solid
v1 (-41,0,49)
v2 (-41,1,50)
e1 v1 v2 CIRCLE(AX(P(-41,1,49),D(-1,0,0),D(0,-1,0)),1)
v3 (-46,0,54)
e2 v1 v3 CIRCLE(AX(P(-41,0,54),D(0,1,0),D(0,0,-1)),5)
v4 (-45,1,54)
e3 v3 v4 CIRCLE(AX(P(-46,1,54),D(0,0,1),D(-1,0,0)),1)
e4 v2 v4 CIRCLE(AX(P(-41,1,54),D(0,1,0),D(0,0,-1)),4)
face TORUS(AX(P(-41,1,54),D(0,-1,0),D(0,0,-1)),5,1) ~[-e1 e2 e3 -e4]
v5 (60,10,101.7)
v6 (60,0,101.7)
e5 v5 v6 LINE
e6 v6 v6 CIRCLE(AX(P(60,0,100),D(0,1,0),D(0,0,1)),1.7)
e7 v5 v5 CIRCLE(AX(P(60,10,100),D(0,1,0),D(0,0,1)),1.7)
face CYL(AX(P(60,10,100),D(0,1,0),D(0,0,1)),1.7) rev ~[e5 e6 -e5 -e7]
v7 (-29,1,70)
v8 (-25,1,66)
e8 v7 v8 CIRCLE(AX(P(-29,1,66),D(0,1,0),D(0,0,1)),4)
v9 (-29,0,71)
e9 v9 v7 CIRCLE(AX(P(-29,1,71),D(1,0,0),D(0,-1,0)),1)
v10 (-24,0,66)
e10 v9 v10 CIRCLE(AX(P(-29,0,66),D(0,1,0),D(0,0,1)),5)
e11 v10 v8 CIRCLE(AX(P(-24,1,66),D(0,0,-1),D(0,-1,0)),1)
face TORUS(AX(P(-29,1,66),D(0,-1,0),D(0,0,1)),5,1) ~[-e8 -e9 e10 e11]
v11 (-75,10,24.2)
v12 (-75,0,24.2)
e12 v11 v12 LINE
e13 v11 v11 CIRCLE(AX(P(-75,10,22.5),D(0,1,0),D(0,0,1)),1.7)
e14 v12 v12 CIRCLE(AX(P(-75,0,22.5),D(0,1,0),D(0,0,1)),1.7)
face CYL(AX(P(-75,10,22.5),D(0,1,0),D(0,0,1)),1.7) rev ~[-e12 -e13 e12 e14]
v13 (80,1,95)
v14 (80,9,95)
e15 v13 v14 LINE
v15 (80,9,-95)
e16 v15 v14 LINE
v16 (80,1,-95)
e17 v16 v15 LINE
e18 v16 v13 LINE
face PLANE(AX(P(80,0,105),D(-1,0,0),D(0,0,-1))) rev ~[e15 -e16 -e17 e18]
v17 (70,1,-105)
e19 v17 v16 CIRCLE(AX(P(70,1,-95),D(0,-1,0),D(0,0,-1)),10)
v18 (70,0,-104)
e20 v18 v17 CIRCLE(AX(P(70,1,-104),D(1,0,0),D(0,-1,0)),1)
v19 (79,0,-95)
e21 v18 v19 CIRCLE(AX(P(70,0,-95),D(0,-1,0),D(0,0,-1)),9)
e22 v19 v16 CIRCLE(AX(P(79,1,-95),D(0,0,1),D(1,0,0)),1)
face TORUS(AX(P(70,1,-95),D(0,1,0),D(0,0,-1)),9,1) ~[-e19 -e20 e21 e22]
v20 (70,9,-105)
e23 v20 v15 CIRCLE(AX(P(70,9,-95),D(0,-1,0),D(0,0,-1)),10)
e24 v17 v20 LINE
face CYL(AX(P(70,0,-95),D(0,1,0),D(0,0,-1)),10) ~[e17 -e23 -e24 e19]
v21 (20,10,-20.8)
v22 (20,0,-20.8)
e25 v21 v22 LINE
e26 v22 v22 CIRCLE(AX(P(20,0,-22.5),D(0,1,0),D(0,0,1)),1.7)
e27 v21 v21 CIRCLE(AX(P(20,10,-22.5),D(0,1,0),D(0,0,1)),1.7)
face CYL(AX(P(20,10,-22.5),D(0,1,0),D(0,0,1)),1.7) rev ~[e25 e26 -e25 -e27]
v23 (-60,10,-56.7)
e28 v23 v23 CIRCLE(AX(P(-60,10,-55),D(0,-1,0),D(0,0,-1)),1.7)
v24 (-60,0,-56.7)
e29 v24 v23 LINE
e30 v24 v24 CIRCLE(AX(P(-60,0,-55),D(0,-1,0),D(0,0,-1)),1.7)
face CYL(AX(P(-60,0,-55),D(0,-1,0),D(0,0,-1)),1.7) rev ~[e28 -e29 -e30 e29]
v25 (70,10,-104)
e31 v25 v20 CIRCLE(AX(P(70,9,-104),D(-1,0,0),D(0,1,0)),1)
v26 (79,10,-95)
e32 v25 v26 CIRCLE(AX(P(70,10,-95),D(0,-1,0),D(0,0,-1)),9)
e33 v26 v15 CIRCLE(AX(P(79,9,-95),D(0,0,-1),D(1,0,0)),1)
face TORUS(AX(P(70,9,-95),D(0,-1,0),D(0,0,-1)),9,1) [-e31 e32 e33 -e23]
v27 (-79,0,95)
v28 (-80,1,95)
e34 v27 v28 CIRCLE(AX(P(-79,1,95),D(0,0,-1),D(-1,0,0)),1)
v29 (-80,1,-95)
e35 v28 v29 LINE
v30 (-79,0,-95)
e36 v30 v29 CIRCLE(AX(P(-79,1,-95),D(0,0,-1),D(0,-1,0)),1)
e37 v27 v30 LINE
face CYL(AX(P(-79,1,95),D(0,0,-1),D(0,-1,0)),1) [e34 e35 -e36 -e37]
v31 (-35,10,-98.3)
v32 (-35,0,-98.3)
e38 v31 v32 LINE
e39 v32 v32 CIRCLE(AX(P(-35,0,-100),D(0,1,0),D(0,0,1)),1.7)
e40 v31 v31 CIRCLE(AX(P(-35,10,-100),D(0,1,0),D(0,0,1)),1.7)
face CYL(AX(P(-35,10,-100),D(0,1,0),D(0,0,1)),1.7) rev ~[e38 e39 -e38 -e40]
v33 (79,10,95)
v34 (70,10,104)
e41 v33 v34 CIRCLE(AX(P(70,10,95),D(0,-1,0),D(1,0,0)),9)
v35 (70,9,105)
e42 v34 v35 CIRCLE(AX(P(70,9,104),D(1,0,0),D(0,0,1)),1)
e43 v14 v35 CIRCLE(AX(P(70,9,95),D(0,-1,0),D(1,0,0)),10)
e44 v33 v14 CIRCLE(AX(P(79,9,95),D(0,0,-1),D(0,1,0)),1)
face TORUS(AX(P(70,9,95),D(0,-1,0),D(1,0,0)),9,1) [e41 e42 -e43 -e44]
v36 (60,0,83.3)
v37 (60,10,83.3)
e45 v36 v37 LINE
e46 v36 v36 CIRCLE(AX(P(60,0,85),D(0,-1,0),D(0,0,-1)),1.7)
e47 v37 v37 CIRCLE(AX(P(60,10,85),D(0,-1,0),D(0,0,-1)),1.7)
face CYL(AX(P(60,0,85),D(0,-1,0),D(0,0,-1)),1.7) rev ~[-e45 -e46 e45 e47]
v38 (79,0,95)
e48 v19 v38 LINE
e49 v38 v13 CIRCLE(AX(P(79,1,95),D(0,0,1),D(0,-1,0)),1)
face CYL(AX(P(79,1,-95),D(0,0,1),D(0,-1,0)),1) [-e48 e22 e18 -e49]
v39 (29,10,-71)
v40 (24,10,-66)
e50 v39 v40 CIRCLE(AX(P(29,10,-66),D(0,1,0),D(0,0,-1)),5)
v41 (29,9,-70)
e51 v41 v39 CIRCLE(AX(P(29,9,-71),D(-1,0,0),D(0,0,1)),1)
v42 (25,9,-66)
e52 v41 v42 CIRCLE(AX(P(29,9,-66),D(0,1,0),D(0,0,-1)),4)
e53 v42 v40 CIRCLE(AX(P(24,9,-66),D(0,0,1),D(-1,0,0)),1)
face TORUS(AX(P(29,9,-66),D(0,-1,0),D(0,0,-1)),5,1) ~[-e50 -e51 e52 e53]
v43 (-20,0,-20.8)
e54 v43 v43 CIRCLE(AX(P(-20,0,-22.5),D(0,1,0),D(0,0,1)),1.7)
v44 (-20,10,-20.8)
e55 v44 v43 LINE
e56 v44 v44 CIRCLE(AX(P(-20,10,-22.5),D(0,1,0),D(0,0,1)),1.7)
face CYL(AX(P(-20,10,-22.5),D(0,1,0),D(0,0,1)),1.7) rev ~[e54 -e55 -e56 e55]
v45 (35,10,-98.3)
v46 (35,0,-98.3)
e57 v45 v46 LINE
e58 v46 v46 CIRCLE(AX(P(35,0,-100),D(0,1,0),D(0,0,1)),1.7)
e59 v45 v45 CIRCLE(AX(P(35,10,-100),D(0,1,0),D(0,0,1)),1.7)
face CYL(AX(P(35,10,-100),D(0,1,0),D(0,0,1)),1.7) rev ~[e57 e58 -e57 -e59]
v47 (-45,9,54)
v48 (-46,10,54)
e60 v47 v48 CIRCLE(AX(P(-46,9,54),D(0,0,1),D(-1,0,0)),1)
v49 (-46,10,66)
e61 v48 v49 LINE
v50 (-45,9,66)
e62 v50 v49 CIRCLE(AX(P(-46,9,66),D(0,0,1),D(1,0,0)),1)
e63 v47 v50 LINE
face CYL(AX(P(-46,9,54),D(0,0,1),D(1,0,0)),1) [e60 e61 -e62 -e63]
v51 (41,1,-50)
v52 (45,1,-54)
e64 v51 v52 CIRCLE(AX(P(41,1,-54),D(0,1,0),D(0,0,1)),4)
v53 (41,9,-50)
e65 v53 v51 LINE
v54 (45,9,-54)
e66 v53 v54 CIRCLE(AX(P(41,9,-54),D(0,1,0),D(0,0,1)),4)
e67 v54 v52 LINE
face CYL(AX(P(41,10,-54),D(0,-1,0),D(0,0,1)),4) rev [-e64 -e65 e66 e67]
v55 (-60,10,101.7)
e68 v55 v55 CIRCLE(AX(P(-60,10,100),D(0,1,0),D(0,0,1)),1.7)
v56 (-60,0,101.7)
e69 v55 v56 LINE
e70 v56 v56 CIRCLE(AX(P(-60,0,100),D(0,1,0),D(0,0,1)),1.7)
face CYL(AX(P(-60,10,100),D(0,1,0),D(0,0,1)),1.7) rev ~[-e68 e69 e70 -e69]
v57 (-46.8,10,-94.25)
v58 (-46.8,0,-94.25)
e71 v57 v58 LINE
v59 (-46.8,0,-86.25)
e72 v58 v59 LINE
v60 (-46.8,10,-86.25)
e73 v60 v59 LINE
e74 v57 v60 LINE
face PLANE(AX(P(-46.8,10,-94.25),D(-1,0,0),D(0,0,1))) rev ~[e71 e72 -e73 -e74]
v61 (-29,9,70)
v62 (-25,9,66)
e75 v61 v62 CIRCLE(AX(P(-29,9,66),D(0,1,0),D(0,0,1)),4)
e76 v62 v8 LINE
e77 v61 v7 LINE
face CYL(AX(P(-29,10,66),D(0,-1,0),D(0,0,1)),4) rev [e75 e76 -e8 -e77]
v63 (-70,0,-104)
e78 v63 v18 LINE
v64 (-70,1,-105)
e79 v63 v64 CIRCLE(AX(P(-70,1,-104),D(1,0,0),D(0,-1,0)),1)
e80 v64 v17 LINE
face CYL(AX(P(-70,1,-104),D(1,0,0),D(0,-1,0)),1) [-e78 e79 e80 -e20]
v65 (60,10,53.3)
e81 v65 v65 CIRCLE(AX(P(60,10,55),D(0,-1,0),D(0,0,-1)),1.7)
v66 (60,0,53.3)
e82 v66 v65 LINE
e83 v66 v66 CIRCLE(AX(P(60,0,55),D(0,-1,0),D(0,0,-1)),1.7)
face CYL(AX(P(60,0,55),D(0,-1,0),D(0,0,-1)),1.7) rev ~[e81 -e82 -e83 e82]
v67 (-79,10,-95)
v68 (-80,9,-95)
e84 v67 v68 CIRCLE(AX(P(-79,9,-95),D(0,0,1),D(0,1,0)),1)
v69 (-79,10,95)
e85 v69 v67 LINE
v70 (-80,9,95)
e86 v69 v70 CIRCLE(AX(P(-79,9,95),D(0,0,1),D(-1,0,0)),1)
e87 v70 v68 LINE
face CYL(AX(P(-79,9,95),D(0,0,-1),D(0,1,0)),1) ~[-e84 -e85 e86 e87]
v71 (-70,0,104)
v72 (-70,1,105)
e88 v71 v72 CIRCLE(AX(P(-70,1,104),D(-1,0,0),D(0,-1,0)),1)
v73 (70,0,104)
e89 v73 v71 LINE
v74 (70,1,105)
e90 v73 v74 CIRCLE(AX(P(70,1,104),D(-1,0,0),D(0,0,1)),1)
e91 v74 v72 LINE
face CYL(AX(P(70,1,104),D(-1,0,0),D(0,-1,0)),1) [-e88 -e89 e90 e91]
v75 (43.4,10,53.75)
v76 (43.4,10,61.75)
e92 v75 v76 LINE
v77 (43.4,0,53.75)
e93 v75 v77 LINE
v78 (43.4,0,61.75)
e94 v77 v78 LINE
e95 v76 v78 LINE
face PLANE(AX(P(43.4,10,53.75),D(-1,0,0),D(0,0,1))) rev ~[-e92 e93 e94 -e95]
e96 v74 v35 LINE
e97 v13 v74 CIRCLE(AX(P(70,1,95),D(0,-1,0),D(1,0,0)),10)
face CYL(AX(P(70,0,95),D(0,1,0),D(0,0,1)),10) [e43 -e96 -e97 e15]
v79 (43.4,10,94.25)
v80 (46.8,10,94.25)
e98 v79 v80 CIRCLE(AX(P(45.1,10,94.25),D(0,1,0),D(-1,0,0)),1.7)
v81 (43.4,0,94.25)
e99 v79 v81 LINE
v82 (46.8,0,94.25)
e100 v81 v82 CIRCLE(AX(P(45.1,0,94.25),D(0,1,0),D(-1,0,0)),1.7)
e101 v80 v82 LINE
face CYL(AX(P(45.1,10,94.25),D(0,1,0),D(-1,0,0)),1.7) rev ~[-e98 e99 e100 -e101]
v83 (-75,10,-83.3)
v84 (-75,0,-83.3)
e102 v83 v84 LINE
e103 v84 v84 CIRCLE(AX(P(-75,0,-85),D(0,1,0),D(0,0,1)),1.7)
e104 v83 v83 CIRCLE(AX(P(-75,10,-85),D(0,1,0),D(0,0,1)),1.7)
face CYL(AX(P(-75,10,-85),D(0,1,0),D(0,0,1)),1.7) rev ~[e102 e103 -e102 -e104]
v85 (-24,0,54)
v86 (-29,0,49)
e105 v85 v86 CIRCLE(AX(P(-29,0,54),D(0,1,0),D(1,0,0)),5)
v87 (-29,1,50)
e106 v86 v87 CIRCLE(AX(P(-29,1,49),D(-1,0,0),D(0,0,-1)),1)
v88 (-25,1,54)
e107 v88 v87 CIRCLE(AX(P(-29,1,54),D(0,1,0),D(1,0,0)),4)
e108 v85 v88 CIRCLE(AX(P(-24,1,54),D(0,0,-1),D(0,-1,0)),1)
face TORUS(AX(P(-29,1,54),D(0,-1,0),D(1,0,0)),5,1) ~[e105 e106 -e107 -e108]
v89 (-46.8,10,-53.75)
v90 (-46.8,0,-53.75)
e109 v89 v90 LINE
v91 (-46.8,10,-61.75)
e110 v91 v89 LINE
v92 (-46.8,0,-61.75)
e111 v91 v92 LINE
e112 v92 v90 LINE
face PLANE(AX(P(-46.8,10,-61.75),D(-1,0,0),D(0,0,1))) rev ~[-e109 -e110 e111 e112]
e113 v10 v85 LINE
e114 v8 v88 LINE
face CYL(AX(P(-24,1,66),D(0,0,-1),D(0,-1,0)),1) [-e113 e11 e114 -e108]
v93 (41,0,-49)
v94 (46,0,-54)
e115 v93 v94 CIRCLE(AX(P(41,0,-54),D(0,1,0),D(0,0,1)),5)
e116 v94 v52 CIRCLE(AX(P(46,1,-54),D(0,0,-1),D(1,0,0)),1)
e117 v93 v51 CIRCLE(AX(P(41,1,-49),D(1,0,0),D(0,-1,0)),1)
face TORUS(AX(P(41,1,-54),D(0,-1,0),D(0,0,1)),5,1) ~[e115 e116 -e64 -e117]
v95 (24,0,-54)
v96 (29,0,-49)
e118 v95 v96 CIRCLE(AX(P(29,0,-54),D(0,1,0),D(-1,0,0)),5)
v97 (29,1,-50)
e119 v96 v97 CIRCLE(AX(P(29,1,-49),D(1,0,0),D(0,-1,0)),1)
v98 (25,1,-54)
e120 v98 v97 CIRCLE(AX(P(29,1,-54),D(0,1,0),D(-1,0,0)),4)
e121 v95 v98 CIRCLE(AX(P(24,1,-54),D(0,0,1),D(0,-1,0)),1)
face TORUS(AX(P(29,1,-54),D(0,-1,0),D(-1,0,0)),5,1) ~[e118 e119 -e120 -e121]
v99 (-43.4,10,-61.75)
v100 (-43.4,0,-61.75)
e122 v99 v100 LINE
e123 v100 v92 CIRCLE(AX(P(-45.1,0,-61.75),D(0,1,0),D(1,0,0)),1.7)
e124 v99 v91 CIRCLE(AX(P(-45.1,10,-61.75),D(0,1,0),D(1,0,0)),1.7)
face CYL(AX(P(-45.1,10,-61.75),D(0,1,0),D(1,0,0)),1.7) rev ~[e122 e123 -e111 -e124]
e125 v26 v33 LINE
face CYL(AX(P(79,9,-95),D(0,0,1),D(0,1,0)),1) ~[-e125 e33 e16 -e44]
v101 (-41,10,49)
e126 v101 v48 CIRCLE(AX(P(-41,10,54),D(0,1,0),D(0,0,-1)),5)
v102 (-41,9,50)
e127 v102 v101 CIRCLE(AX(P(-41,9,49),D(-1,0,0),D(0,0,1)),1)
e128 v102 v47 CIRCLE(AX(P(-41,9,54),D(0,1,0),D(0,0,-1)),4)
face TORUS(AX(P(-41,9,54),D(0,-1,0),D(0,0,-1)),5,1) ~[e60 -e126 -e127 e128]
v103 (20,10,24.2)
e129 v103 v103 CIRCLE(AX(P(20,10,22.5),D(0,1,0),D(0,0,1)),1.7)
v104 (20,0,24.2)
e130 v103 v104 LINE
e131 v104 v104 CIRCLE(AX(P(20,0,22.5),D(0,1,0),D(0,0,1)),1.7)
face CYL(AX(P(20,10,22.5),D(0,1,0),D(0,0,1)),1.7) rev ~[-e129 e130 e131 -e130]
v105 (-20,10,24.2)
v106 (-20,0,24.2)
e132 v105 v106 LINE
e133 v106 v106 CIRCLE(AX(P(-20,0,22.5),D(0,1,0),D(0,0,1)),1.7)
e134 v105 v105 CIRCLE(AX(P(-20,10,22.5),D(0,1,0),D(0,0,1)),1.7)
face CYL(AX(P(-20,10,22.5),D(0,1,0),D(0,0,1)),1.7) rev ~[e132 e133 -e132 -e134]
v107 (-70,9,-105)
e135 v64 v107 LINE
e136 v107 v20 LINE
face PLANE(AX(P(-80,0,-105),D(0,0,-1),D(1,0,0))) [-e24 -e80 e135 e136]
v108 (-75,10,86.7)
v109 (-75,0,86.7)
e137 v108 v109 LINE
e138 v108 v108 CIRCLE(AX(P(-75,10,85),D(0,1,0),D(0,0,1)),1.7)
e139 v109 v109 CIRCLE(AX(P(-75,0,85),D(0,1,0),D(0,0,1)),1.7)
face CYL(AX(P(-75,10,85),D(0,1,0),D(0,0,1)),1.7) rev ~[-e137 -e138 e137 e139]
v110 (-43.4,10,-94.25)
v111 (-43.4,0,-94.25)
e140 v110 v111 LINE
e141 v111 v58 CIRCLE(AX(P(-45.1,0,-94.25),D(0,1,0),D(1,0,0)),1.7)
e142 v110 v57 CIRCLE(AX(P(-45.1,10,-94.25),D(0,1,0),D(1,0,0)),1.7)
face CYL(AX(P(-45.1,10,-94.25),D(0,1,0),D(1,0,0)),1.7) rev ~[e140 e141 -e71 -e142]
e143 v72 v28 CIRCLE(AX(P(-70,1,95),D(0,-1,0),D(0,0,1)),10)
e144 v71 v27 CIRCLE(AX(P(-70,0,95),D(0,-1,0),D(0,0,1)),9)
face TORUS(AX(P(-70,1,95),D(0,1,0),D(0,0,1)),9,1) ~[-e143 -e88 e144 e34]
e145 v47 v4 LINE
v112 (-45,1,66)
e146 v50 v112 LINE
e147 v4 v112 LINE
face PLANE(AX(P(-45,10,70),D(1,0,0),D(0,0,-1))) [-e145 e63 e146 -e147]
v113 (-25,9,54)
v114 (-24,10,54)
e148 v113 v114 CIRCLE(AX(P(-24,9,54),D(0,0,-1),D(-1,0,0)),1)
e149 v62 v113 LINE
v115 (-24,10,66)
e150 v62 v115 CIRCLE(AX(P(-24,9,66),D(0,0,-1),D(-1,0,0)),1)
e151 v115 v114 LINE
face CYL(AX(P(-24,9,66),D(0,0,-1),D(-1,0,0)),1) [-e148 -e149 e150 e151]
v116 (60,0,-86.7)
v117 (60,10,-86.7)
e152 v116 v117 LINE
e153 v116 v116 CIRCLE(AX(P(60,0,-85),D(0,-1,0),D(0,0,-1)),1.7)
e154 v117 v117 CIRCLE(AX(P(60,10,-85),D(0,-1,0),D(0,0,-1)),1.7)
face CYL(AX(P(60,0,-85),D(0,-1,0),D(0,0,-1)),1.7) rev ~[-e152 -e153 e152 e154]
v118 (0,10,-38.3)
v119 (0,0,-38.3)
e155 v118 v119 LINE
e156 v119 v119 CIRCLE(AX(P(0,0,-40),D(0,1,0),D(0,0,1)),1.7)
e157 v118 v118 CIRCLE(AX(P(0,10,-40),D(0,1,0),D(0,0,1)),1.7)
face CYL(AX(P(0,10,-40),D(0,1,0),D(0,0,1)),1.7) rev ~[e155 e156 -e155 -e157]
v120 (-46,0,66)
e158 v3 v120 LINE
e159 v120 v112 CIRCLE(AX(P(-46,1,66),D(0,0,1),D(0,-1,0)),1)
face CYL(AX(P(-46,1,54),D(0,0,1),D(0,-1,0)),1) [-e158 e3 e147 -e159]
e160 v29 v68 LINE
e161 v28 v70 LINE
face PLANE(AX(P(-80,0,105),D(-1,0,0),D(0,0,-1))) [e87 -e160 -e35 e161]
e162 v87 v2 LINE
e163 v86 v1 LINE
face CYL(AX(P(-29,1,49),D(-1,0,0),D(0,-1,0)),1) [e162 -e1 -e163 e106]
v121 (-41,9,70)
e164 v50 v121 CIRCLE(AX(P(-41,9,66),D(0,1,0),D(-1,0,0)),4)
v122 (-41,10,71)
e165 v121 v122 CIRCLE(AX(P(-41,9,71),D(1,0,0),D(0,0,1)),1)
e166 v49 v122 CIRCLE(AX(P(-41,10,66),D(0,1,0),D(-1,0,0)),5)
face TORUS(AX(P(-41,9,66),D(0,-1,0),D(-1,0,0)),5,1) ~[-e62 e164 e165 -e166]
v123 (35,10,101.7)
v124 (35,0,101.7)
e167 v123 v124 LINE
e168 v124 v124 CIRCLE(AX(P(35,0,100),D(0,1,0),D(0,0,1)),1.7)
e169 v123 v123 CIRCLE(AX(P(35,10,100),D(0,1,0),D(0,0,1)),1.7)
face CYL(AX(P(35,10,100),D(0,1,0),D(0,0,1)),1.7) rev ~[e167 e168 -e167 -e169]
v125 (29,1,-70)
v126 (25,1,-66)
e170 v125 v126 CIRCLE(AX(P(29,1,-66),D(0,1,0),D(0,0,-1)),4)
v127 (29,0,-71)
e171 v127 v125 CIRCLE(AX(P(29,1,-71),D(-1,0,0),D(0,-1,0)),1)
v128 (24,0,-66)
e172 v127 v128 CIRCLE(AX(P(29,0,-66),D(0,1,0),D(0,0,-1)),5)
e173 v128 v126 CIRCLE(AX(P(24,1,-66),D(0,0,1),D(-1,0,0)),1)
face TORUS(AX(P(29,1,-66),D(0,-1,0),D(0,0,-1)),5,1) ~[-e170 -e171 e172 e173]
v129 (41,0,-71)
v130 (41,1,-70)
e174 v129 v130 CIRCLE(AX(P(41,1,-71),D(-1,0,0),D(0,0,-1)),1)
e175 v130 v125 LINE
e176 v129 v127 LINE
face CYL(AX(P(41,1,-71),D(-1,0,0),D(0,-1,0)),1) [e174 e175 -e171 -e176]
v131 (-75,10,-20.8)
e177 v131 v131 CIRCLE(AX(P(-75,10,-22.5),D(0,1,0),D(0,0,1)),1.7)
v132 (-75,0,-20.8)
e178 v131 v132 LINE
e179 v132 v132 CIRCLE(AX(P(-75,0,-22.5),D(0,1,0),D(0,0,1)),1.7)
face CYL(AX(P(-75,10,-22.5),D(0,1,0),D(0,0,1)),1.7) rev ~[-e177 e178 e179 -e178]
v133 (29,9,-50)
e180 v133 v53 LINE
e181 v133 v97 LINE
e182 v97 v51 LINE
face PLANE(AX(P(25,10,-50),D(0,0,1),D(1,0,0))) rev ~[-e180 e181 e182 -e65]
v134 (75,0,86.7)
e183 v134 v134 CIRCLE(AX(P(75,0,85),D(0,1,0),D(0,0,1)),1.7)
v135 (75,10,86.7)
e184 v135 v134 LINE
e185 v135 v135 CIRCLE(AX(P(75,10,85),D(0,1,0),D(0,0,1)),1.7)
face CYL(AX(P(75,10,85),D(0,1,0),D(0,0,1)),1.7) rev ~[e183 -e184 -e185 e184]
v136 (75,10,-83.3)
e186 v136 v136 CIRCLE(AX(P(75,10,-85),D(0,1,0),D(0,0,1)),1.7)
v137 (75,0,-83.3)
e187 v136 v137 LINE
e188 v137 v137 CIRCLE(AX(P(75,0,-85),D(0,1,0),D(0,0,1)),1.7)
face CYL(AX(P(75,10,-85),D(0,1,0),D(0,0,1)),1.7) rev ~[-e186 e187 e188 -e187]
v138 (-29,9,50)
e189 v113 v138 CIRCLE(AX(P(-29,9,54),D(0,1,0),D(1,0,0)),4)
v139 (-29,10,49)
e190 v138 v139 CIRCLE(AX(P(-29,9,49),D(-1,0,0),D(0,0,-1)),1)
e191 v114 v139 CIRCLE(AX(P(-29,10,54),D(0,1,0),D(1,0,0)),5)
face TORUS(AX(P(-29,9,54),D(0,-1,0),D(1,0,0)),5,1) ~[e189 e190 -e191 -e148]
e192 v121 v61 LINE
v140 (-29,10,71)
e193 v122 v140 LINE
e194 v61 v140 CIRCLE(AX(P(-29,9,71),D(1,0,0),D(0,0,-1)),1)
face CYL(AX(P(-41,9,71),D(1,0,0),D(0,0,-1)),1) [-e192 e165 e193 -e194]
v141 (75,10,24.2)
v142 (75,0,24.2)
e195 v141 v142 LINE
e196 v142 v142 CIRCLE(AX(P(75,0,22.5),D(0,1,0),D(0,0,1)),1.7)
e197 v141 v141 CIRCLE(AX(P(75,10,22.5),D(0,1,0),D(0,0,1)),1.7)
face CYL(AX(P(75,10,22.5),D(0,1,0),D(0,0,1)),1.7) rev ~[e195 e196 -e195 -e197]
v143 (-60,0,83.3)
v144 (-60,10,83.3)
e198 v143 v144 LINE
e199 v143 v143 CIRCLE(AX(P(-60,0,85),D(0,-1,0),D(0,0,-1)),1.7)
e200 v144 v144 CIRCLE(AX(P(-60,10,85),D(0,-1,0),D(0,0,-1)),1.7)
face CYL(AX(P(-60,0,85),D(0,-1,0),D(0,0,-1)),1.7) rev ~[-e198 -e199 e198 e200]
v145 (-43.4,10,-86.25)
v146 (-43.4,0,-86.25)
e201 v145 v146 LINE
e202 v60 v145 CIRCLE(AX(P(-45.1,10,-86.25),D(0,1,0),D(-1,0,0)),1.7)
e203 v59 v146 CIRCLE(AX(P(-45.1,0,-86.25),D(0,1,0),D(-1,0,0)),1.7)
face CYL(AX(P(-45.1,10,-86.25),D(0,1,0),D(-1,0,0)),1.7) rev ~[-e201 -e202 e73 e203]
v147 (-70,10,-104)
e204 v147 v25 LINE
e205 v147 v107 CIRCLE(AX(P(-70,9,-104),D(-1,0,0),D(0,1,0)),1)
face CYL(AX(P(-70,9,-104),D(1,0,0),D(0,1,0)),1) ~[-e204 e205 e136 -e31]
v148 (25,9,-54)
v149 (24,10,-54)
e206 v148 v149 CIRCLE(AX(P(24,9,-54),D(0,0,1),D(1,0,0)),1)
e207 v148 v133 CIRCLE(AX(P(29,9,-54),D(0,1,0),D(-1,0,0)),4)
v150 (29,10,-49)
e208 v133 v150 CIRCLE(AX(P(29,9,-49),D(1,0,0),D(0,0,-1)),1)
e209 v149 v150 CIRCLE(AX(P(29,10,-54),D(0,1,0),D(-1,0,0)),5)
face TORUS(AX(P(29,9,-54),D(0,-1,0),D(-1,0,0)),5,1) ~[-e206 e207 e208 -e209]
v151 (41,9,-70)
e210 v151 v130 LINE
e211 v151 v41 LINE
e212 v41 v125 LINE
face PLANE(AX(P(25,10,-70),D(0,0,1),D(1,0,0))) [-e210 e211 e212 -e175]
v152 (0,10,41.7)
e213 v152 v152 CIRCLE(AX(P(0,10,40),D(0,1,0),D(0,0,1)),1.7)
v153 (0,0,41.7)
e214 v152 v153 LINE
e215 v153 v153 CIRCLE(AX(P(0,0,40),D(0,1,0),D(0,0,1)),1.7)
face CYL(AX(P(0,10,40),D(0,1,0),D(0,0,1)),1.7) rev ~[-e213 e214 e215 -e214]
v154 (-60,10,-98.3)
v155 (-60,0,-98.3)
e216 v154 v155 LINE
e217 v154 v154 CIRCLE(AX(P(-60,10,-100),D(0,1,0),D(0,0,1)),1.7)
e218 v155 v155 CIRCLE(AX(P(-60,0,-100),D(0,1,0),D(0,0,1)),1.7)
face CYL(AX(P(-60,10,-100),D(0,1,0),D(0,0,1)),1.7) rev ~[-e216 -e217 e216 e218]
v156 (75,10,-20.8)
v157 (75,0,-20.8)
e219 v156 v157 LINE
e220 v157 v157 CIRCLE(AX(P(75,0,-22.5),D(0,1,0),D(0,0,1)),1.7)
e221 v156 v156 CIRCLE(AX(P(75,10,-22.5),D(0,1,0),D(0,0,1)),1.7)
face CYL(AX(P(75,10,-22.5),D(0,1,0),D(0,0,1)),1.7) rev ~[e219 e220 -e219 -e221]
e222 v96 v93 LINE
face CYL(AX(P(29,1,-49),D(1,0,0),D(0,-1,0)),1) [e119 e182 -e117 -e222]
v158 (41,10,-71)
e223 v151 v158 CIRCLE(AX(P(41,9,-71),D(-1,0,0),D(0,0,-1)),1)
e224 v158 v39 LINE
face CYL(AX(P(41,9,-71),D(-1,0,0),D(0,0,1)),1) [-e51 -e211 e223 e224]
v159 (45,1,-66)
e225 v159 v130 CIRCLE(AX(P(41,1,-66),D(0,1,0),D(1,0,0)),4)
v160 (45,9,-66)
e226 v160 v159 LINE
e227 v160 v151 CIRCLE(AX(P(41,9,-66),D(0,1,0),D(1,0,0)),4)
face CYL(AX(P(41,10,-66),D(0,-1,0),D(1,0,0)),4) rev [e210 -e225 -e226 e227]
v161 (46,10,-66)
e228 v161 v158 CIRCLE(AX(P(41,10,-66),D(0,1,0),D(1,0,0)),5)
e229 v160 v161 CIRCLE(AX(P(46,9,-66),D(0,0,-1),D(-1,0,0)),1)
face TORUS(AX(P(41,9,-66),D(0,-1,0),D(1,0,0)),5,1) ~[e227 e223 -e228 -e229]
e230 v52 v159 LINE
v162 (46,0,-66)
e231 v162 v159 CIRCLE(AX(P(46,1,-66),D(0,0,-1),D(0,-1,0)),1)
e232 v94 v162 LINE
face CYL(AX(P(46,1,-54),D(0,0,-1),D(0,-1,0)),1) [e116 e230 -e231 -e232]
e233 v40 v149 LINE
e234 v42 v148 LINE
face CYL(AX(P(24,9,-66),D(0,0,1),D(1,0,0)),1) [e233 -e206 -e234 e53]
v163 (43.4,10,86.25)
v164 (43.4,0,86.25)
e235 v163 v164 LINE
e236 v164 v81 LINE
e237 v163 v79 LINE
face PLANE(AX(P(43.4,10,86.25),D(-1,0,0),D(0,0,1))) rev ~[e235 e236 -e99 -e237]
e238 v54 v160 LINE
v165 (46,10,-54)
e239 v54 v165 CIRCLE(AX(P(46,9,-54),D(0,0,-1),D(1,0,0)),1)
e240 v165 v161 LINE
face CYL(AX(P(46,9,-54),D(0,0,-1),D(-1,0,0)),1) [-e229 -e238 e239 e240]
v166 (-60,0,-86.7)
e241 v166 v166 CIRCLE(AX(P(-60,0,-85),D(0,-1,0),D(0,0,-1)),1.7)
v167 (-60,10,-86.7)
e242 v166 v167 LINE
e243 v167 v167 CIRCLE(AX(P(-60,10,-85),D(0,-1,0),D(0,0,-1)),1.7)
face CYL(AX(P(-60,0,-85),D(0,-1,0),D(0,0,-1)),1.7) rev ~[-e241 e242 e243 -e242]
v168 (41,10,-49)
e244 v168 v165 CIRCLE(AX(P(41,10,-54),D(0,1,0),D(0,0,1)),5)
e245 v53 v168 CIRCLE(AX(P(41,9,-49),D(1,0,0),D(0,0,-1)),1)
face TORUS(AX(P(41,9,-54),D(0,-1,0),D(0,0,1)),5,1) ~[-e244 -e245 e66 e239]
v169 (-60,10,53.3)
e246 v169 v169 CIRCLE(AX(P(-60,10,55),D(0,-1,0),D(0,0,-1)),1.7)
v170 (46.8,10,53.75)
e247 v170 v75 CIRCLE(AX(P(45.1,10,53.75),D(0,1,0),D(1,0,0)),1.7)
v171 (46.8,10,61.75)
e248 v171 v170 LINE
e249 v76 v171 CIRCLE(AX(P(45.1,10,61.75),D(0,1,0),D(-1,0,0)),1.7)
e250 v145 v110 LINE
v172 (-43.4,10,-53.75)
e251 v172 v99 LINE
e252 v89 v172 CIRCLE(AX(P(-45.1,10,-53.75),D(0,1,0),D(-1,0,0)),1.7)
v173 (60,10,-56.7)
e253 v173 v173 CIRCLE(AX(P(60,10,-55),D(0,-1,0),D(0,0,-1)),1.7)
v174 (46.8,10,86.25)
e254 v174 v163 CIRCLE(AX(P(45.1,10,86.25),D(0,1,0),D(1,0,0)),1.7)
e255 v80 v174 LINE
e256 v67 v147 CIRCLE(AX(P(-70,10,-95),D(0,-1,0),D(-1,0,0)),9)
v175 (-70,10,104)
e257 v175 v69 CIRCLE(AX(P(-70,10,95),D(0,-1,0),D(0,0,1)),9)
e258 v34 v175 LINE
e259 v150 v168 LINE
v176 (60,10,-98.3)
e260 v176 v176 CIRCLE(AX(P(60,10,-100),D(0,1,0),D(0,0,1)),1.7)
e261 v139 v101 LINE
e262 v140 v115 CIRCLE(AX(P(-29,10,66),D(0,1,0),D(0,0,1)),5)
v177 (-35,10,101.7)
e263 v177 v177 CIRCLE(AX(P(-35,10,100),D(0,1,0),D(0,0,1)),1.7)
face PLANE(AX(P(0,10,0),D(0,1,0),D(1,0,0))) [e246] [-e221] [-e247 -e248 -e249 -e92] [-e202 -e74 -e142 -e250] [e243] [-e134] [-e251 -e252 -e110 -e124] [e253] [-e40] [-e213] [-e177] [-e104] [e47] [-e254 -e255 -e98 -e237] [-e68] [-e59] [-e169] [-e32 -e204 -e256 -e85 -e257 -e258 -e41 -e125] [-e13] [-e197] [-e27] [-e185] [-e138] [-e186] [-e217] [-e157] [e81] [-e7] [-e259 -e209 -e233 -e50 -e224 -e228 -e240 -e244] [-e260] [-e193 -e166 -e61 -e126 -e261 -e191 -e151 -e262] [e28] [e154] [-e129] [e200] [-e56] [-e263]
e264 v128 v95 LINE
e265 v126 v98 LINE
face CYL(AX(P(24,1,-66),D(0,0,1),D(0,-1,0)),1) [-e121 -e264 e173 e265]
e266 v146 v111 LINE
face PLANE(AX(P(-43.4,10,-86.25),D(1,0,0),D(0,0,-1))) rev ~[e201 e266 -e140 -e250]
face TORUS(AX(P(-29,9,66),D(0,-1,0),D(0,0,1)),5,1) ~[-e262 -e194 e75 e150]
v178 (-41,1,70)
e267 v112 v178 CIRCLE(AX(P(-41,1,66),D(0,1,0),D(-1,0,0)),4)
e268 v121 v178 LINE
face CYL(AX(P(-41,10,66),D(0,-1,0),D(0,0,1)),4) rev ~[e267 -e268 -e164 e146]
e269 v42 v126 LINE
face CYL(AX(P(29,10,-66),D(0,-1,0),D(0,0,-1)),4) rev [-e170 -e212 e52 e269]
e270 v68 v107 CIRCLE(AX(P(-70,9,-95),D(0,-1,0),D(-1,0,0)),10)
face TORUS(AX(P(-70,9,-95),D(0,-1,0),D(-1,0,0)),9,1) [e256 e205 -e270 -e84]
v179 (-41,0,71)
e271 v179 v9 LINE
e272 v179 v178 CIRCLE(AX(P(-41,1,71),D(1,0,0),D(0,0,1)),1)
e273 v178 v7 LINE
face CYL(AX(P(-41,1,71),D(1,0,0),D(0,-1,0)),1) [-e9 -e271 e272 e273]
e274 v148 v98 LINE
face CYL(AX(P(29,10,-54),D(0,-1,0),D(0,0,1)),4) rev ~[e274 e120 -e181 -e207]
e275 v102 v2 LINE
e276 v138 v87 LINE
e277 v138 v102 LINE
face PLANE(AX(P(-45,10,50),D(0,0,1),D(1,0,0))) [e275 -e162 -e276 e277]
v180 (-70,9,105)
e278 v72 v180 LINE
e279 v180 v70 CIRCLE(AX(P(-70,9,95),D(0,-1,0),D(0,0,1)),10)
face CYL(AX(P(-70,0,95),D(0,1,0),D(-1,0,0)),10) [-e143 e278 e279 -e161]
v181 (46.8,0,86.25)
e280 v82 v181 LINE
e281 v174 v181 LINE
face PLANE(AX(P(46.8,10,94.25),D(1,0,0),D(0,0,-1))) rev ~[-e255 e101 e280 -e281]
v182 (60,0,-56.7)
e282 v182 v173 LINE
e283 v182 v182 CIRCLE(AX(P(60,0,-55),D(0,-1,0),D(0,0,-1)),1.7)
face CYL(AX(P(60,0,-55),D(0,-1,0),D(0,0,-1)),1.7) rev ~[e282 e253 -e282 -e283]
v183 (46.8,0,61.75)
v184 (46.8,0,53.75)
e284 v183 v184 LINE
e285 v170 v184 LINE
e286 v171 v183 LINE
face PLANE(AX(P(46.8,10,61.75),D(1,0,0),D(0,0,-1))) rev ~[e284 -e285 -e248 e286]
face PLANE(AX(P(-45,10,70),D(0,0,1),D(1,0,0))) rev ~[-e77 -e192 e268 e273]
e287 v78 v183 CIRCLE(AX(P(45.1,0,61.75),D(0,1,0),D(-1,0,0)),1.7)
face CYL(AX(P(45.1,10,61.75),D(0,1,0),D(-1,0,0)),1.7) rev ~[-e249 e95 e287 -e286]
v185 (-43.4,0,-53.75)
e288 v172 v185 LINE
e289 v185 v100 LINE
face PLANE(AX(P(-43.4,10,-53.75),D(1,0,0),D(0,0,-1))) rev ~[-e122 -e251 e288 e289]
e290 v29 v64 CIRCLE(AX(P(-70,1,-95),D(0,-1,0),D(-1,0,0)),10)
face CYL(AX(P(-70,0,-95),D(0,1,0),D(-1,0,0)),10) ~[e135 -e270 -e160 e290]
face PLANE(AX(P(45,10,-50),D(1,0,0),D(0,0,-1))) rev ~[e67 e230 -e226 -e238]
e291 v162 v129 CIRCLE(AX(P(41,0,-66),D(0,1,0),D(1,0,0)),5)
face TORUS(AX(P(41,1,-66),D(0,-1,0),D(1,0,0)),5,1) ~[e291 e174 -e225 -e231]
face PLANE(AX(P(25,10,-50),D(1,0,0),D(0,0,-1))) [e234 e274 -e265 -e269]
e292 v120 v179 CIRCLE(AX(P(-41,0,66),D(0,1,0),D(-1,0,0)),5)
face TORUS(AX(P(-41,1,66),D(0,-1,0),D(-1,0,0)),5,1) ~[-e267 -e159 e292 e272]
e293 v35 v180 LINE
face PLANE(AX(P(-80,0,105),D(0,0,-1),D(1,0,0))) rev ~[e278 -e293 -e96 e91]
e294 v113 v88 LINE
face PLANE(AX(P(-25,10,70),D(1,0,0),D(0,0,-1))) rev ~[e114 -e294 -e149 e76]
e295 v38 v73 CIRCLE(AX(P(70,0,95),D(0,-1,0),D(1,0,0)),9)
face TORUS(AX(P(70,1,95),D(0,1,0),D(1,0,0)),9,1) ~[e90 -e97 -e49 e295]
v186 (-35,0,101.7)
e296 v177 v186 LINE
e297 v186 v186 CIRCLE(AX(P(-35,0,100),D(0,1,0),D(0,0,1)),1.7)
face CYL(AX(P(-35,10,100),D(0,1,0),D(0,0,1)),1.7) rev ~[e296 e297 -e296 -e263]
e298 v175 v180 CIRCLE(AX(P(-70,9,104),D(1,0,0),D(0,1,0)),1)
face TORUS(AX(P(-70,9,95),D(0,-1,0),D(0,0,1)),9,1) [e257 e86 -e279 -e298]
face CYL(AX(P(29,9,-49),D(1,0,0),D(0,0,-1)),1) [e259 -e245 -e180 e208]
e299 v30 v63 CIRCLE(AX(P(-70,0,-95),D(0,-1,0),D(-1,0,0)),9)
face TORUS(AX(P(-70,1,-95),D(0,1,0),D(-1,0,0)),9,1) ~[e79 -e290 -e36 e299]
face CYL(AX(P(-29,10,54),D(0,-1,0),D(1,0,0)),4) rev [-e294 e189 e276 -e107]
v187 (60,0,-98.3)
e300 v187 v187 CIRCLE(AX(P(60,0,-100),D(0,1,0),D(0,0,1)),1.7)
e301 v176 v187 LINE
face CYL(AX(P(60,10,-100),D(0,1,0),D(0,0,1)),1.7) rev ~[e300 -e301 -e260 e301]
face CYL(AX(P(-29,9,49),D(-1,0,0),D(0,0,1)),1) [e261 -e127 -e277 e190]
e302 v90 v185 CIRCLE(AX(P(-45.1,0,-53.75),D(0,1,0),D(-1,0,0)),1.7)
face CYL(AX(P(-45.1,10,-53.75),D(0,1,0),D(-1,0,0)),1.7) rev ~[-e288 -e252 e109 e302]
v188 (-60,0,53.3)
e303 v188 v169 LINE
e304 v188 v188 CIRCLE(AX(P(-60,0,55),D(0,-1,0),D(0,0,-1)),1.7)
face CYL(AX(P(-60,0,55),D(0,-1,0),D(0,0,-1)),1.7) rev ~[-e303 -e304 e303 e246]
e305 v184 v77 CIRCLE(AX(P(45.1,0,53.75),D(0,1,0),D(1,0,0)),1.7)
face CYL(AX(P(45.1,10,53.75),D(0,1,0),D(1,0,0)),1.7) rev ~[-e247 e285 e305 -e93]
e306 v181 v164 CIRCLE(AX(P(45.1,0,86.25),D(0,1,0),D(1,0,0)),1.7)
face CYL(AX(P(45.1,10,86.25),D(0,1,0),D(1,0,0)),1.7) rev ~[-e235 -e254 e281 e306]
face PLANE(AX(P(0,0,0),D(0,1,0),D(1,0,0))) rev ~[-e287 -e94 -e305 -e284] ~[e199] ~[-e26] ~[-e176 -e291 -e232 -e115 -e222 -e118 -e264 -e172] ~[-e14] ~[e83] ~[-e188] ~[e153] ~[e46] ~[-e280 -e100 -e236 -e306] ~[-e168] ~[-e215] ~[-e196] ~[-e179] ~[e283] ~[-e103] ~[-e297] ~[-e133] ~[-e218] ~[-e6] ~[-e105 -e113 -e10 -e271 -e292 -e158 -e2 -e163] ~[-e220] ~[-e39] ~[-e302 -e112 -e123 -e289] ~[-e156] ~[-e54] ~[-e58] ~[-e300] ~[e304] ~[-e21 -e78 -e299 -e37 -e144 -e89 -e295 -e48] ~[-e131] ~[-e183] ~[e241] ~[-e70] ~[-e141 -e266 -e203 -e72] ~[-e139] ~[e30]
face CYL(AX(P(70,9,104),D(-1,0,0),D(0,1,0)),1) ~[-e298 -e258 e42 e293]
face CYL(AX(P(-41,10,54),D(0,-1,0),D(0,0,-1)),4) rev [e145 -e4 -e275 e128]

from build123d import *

# Parameters (mm, degrees)
SKETCH1_W           = 160
SKETCH1_H           = 210
BOSS_EXTRUDE1_DEPTH = 10
SKETCH2_R           = 1.7
CUT_EXTRUDE1_DEPTH  = 10
FILLET1_R           = 10
CUT_EXTRUDE2_DEPTH  = 44.6
SKETCH4_R           = 1.7
CUT_EXTRUDE3_DEPTH  = 44.6
SKETCH5_R           = 1.7
CUT_EXTRUDE4_DEPTH  = 32
SKETCH6_R           = 1.7
CUT_EXTRUDE5_DEPTH  = 35
SKETCH7_R           = 1.7
CUT_EXTRUDE6_DEPTH  = 42
SKETCH8_R           = 1.7
CUT_EXTRUDE7_DEPTH  = 42
FILLET2_R           = 1
SKETCH9_W           = 20
SKETCH9_H           = 20
CUT_EXTRUDE8_DEPTH  = 41
FILLET3_R           = 4
FILLET4_R           = 1


with BuildPart() as part:
    # Sketch1 → Boss-Extrude1 (new body)
    with BuildSketch(Plane(origin=(0, 0, 0), x_dir=(1, 0, 0), z_dir=(0, 1, 0))):
        Rectangle(SKETCH1_W, SKETCH1_H)
    extrude(amount=BOSS_EXTRUDE1_DEPTH)

    # Sketch2 → Cut-Extrude1 (cut)
    with BuildSketch(Plane(origin=(0, 10, 0), x_dir=(1, 0, 0), z_dir=(0, 1, 0))):
        with Locations(Location((-75, 22.5, 0), (0, 0, 270))):
            Circle(SKETCH2_R)
        with Locations(Location((-75, -22.5, 0), (0, 0, 270))):
            Circle(SKETCH2_R)
        with Locations(Location((75, 22.5, 0), (0, 0, 270))):
            Circle(SKETCH2_R)
        with Locations(Location((75, -22.5, 0), (0, 0, 270))):
            Circle(SKETCH2_R)
    extrude(amount=-CUT_EXTRUDE1_DEPTH, mode=Mode.SUBTRACT)

    # Fillet1
    fillet1_edges = [part.edges().sort_by_distance(p)[0] for p in [
        (80, 5, 105),
        (-80, 5, 105),
        (-80, 5, -105),
        (80, 5, -105),
    ]]
    fillet(fillet1_edges, radius=FILLET1_R)

    # Sketch3 → Cut-Extrude2 (cut)
    with BuildSketch(Plane(origin=(0, 10, 0), x_dir=(1, 0, 0), z_dir=(0, 1, 0))):
        with BuildLine():
            Line((43.4, -86.25), (43.4, -94.25))
            ThreePointArc((43.4, -94.25), (45.1, -95.95), (46.8, -94.25))
            Line((46.8, -94.25), (46.8, -86.25))
            ThreePointArc((46.8, -86.25), (45.1, -84.55), (43.4, -86.25))
        make_face()
        with BuildLine():
            Line((-46.8, 94.25), (-46.8, 86.25))
            ThreePointArc((-46.8, 86.25), (-45.1, 84.55), (-43.4, 86.25))
            Line((-43.4, 86.25), (-43.4, 94.25))
            ThreePointArc((-43.4, 94.25), (-45.1, 95.95), (-46.8, 94.25))
        make_face()
        with BuildLine():
            ThreePointArc((46.8, -53.75), (45.1, -52.05), (43.4, -53.75))
            Line((43.4, -53.75), (43.4, -61.75))
            ThreePointArc((43.4, -61.75), (45.1, -63.45), (46.8, -61.75))
            Line((46.8, -61.75), (46.8, -53.75))
        make_face()
        with BuildLine():
            Line((-46.8, 61.75), (-46.8, 53.75))
            ThreePointArc((-46.8, 53.75), (-45.1, 52.05), (-43.4, 53.75))
            Line((-43.4, 53.75), (-43.4, 61.75))
            ThreePointArc((-43.4, 61.75), (-45.1, 63.45), (-46.8, 61.75))
        make_face()
    extrude(amount=-CUT_EXTRUDE2_DEPTH, mode=Mode.SUBTRACT)

    # Sketch4 → Cut-Extrude3 (cut)
    with BuildSketch(Plane(origin=(0, 10, 0), x_dir=(1, 0, 0), z_dir=(0, 1, 0))):
        with Locations(Location((20, 22.5, 0), (0, 0, 270))):
            Circle(SKETCH4_R)
        with Locations(Location((20, -22.5, 0), (0, 0, 270))):
            Circle(SKETCH4_R)
        with Locations(Location((-20, -22.5, 0), (0, 0, 270))):
            Circle(SKETCH4_R)
        with Locations(Location((-20, 22.5, 0), (0, 0, 270))):
            Circle(SKETCH4_R)
    extrude(amount=-CUT_EXTRUDE3_DEPTH, mode=Mode.SUBTRACT)

    # Sketch5 → Cut-Extrude4 (cut)
    with BuildSketch(Plane(origin=(0, 10, 0), x_dir=(1, 0, 0), z_dir=(0, 1, 0))):
        with Locations(Location((-75, -85, 0), (0, 0, 270))):
            Circle(SKETCH5_R)
        with Locations(Location((-60, -100, 0), (0, 0, 270))):
            Circle(SKETCH5_R)
        with Locations(Location((60, -100, 0), (0, 0, 270))):
            Circle(SKETCH5_R)
        with Locations(Location((75, -85, 0), (0, 0, 270))):
            Circle(SKETCH5_R)
        with Locations(Location((-60, 100, 0), (0, 0, 270))):
            Circle(SKETCH5_R)
        with Locations(Location((-75, 85, 0), (0, 0, 270))):
            Circle(SKETCH5_R)
        with Locations(Location((60, 100, 0), (0, 0, 270))):
            Circle(SKETCH5_R)
        with Locations(Location((75, 85, 0), (0, 0, 270))):
            Circle(SKETCH5_R)
    extrude(amount=-CUT_EXTRUDE4_DEPTH, mode=Mode.SUBTRACT)

    # Sketch6 → Cut-Extrude5 (cut)
    with BuildSketch(Plane.XZ):
        with Locations(Location((-60, 85, 0), (0, 0, 270))):
            Circle(SKETCH6_R)
        with Locations(Location((-60, 55, 0), (0, 0, 270))):
            Circle(SKETCH6_R)
        with Locations(Location((60, 55, 0), (0, 0, 270))):
            Circle(SKETCH6_R)
        with Locations(Location((60, 85, 0), (0, 0, 270))):
            Circle(SKETCH6_R)
        with Locations(Location((-60, -85, 0), (0, 0, 270))):
            Circle(SKETCH6_R)
        with Locations(Location((-60, -55, 0), (0, 0, 270))):
            Circle(SKETCH6_R)
        with Locations(Location((60, -55, 0), (0, 0, 270))):
            Circle(SKETCH6_R)
        with Locations(Location((60, -85, 0), (0, 0, 270))):
            Circle(SKETCH6_R)
    extrude(amount=-CUT_EXTRUDE5_DEPTH, mode=Mode.SUBTRACT)

    # Sketch7 → Cut-Extrude6 (cut)
    with BuildSketch(Plane(origin=(0, 10, 0), x_dir=(1, 0, 0), z_dir=(0, 1, 0))):
        with Locations(Location((0, 40, 0), (0, 0, 270))):
            Circle(SKETCH7_R)
        with Locations(Location((0, -40, 0), (0, 0, 270))):
            Circle(SKETCH7_R)
    extrude(amount=-CUT_EXTRUDE6_DEPTH, mode=Mode.SUBTRACT)

    # Sketch8 → Cut-Extrude7 (cut)
    with BuildSketch(Plane(origin=(0, 10, 0), x_dir=(1, 0, 0), z_dir=(0, 1, 0))):
        with Locations(Location((-35, -100, 0), (0, 0, 270))):
            Circle(SKETCH8_R)
        with Locations(Location((35, -100, 0), (0, 0, 270))):
            Circle(SKETCH8_R)
        with Locations(Location((35, 100, 0), (0, 0, 270))):
            Circle(SKETCH8_R)
        with Locations(Location((-35, 100, 0), (0, 0, 270))):
            Circle(SKETCH8_R)
    extrude(amount=-CUT_EXTRUDE7_DEPTH, mode=Mode.SUBTRACT)

    # Fillet2
    fillet2_edges = [part.edges().sort_by_distance(p)[0] for p in [
        (0, 0, -105),
        (0, 10, -105),
        (80, 0, 0),
        (0, 0, 105),
        (-80, 0, 0),
        (-77.071067812, 0, -102.071067812),
        (-77.071067812, 0, 102.071067812),
        (77.071067812, 0, 102.071067812),
        (77.071067812, 0, -102.071067812),
        (80, 10, 0),
        (-80, 10, 0),
        (0, 10, 105),
        (-77.071067812, 10, -102.071067812),
        (-77.071067812, 10, 102.071067812),
        (77.071067812, 10, 102.071067812),
        (77.071067812, 10, -102.071067812),
    ]]
    fillet(fillet2_edges, radius=FILLET2_R)

    # Sketch9 → Cut-Extrude8 (cut)
    with BuildSketch(Plane(origin=(0, 10, 0), x_dir=(1, 0, 0), z_dir=(0, 1, 0))):
        with Locations((-35, -60)):
            Rectangle(SKETCH9_W, SKETCH9_H)
        with Locations((35, 60)):
            Rectangle(SKETCH9_W, SKETCH9_H)
    extrude(amount=-CUT_EXTRUDE8_DEPTH, mode=Mode.SUBTRACT)

    # Fillet3
    fillet3_edges = [part.edges().sort_by_distance(p)[0] for p in [
        (-45, 5, 70),
        (-45, 5, 50),
        (-25, 5, 50),
        (-25, 5, 70),
        (25, 5, -50),
        (25, 5, -70),
        (45, 5, -70),
        (45, 5, -50),
    ]]
    fillet(fillet3_edges, radius=FILLET3_R)

    # Fillet4
    fillet4_edges = [part.edges().sort_by_distance(p)[0] for p in [
        (35, 10, -50),
        (35, 0, -50),
        (25, 10, -60),
        (25, 0, -60),
        (35, 10, -70),
        (35, 0, -70),
        (45, 10, -60),
        (45, 0, -60),
        (-25, 10, 60),
        (-25, 0, 60),
        (-35, 10, 70),
        (-35, 0, 70),
        (-45, 10, 60),
        (-45, 0, 60),
        (-35, 10, 50),
        (-35, 0, 50),
        (26.171572875, 10, -51.171572875),
        (26.171572875, 0, -51.171572875),
        (26.171572875, 10, -68.828427125),
        (26.171572875, 0, -68.828427125),
        (43.828427125, 10, -68.828427125),
        (43.828427125, 0, -68.828427125),
        (43.828427125, 10, -51.171572875),
        (43.828427125, 0, -51.171572875),
        (-26.171572875, 10, 68.828427125),
        (-26.171572875, 0, 68.828427125),
        (-43.828427125, 10, 68.828427125),
        (-43.828427125, 0, 68.828427125),
        (-26.171572875, 10, 51.171572875),
        (-26.171572875, 0, 51.171572875),
        (-43.828427125, 10, 51.171572875),
        (-43.828427125, 0, 51.171572875),
    ]]
    fillet(fillet4_edges, radius=FILLET4_R)


solid = part.part
